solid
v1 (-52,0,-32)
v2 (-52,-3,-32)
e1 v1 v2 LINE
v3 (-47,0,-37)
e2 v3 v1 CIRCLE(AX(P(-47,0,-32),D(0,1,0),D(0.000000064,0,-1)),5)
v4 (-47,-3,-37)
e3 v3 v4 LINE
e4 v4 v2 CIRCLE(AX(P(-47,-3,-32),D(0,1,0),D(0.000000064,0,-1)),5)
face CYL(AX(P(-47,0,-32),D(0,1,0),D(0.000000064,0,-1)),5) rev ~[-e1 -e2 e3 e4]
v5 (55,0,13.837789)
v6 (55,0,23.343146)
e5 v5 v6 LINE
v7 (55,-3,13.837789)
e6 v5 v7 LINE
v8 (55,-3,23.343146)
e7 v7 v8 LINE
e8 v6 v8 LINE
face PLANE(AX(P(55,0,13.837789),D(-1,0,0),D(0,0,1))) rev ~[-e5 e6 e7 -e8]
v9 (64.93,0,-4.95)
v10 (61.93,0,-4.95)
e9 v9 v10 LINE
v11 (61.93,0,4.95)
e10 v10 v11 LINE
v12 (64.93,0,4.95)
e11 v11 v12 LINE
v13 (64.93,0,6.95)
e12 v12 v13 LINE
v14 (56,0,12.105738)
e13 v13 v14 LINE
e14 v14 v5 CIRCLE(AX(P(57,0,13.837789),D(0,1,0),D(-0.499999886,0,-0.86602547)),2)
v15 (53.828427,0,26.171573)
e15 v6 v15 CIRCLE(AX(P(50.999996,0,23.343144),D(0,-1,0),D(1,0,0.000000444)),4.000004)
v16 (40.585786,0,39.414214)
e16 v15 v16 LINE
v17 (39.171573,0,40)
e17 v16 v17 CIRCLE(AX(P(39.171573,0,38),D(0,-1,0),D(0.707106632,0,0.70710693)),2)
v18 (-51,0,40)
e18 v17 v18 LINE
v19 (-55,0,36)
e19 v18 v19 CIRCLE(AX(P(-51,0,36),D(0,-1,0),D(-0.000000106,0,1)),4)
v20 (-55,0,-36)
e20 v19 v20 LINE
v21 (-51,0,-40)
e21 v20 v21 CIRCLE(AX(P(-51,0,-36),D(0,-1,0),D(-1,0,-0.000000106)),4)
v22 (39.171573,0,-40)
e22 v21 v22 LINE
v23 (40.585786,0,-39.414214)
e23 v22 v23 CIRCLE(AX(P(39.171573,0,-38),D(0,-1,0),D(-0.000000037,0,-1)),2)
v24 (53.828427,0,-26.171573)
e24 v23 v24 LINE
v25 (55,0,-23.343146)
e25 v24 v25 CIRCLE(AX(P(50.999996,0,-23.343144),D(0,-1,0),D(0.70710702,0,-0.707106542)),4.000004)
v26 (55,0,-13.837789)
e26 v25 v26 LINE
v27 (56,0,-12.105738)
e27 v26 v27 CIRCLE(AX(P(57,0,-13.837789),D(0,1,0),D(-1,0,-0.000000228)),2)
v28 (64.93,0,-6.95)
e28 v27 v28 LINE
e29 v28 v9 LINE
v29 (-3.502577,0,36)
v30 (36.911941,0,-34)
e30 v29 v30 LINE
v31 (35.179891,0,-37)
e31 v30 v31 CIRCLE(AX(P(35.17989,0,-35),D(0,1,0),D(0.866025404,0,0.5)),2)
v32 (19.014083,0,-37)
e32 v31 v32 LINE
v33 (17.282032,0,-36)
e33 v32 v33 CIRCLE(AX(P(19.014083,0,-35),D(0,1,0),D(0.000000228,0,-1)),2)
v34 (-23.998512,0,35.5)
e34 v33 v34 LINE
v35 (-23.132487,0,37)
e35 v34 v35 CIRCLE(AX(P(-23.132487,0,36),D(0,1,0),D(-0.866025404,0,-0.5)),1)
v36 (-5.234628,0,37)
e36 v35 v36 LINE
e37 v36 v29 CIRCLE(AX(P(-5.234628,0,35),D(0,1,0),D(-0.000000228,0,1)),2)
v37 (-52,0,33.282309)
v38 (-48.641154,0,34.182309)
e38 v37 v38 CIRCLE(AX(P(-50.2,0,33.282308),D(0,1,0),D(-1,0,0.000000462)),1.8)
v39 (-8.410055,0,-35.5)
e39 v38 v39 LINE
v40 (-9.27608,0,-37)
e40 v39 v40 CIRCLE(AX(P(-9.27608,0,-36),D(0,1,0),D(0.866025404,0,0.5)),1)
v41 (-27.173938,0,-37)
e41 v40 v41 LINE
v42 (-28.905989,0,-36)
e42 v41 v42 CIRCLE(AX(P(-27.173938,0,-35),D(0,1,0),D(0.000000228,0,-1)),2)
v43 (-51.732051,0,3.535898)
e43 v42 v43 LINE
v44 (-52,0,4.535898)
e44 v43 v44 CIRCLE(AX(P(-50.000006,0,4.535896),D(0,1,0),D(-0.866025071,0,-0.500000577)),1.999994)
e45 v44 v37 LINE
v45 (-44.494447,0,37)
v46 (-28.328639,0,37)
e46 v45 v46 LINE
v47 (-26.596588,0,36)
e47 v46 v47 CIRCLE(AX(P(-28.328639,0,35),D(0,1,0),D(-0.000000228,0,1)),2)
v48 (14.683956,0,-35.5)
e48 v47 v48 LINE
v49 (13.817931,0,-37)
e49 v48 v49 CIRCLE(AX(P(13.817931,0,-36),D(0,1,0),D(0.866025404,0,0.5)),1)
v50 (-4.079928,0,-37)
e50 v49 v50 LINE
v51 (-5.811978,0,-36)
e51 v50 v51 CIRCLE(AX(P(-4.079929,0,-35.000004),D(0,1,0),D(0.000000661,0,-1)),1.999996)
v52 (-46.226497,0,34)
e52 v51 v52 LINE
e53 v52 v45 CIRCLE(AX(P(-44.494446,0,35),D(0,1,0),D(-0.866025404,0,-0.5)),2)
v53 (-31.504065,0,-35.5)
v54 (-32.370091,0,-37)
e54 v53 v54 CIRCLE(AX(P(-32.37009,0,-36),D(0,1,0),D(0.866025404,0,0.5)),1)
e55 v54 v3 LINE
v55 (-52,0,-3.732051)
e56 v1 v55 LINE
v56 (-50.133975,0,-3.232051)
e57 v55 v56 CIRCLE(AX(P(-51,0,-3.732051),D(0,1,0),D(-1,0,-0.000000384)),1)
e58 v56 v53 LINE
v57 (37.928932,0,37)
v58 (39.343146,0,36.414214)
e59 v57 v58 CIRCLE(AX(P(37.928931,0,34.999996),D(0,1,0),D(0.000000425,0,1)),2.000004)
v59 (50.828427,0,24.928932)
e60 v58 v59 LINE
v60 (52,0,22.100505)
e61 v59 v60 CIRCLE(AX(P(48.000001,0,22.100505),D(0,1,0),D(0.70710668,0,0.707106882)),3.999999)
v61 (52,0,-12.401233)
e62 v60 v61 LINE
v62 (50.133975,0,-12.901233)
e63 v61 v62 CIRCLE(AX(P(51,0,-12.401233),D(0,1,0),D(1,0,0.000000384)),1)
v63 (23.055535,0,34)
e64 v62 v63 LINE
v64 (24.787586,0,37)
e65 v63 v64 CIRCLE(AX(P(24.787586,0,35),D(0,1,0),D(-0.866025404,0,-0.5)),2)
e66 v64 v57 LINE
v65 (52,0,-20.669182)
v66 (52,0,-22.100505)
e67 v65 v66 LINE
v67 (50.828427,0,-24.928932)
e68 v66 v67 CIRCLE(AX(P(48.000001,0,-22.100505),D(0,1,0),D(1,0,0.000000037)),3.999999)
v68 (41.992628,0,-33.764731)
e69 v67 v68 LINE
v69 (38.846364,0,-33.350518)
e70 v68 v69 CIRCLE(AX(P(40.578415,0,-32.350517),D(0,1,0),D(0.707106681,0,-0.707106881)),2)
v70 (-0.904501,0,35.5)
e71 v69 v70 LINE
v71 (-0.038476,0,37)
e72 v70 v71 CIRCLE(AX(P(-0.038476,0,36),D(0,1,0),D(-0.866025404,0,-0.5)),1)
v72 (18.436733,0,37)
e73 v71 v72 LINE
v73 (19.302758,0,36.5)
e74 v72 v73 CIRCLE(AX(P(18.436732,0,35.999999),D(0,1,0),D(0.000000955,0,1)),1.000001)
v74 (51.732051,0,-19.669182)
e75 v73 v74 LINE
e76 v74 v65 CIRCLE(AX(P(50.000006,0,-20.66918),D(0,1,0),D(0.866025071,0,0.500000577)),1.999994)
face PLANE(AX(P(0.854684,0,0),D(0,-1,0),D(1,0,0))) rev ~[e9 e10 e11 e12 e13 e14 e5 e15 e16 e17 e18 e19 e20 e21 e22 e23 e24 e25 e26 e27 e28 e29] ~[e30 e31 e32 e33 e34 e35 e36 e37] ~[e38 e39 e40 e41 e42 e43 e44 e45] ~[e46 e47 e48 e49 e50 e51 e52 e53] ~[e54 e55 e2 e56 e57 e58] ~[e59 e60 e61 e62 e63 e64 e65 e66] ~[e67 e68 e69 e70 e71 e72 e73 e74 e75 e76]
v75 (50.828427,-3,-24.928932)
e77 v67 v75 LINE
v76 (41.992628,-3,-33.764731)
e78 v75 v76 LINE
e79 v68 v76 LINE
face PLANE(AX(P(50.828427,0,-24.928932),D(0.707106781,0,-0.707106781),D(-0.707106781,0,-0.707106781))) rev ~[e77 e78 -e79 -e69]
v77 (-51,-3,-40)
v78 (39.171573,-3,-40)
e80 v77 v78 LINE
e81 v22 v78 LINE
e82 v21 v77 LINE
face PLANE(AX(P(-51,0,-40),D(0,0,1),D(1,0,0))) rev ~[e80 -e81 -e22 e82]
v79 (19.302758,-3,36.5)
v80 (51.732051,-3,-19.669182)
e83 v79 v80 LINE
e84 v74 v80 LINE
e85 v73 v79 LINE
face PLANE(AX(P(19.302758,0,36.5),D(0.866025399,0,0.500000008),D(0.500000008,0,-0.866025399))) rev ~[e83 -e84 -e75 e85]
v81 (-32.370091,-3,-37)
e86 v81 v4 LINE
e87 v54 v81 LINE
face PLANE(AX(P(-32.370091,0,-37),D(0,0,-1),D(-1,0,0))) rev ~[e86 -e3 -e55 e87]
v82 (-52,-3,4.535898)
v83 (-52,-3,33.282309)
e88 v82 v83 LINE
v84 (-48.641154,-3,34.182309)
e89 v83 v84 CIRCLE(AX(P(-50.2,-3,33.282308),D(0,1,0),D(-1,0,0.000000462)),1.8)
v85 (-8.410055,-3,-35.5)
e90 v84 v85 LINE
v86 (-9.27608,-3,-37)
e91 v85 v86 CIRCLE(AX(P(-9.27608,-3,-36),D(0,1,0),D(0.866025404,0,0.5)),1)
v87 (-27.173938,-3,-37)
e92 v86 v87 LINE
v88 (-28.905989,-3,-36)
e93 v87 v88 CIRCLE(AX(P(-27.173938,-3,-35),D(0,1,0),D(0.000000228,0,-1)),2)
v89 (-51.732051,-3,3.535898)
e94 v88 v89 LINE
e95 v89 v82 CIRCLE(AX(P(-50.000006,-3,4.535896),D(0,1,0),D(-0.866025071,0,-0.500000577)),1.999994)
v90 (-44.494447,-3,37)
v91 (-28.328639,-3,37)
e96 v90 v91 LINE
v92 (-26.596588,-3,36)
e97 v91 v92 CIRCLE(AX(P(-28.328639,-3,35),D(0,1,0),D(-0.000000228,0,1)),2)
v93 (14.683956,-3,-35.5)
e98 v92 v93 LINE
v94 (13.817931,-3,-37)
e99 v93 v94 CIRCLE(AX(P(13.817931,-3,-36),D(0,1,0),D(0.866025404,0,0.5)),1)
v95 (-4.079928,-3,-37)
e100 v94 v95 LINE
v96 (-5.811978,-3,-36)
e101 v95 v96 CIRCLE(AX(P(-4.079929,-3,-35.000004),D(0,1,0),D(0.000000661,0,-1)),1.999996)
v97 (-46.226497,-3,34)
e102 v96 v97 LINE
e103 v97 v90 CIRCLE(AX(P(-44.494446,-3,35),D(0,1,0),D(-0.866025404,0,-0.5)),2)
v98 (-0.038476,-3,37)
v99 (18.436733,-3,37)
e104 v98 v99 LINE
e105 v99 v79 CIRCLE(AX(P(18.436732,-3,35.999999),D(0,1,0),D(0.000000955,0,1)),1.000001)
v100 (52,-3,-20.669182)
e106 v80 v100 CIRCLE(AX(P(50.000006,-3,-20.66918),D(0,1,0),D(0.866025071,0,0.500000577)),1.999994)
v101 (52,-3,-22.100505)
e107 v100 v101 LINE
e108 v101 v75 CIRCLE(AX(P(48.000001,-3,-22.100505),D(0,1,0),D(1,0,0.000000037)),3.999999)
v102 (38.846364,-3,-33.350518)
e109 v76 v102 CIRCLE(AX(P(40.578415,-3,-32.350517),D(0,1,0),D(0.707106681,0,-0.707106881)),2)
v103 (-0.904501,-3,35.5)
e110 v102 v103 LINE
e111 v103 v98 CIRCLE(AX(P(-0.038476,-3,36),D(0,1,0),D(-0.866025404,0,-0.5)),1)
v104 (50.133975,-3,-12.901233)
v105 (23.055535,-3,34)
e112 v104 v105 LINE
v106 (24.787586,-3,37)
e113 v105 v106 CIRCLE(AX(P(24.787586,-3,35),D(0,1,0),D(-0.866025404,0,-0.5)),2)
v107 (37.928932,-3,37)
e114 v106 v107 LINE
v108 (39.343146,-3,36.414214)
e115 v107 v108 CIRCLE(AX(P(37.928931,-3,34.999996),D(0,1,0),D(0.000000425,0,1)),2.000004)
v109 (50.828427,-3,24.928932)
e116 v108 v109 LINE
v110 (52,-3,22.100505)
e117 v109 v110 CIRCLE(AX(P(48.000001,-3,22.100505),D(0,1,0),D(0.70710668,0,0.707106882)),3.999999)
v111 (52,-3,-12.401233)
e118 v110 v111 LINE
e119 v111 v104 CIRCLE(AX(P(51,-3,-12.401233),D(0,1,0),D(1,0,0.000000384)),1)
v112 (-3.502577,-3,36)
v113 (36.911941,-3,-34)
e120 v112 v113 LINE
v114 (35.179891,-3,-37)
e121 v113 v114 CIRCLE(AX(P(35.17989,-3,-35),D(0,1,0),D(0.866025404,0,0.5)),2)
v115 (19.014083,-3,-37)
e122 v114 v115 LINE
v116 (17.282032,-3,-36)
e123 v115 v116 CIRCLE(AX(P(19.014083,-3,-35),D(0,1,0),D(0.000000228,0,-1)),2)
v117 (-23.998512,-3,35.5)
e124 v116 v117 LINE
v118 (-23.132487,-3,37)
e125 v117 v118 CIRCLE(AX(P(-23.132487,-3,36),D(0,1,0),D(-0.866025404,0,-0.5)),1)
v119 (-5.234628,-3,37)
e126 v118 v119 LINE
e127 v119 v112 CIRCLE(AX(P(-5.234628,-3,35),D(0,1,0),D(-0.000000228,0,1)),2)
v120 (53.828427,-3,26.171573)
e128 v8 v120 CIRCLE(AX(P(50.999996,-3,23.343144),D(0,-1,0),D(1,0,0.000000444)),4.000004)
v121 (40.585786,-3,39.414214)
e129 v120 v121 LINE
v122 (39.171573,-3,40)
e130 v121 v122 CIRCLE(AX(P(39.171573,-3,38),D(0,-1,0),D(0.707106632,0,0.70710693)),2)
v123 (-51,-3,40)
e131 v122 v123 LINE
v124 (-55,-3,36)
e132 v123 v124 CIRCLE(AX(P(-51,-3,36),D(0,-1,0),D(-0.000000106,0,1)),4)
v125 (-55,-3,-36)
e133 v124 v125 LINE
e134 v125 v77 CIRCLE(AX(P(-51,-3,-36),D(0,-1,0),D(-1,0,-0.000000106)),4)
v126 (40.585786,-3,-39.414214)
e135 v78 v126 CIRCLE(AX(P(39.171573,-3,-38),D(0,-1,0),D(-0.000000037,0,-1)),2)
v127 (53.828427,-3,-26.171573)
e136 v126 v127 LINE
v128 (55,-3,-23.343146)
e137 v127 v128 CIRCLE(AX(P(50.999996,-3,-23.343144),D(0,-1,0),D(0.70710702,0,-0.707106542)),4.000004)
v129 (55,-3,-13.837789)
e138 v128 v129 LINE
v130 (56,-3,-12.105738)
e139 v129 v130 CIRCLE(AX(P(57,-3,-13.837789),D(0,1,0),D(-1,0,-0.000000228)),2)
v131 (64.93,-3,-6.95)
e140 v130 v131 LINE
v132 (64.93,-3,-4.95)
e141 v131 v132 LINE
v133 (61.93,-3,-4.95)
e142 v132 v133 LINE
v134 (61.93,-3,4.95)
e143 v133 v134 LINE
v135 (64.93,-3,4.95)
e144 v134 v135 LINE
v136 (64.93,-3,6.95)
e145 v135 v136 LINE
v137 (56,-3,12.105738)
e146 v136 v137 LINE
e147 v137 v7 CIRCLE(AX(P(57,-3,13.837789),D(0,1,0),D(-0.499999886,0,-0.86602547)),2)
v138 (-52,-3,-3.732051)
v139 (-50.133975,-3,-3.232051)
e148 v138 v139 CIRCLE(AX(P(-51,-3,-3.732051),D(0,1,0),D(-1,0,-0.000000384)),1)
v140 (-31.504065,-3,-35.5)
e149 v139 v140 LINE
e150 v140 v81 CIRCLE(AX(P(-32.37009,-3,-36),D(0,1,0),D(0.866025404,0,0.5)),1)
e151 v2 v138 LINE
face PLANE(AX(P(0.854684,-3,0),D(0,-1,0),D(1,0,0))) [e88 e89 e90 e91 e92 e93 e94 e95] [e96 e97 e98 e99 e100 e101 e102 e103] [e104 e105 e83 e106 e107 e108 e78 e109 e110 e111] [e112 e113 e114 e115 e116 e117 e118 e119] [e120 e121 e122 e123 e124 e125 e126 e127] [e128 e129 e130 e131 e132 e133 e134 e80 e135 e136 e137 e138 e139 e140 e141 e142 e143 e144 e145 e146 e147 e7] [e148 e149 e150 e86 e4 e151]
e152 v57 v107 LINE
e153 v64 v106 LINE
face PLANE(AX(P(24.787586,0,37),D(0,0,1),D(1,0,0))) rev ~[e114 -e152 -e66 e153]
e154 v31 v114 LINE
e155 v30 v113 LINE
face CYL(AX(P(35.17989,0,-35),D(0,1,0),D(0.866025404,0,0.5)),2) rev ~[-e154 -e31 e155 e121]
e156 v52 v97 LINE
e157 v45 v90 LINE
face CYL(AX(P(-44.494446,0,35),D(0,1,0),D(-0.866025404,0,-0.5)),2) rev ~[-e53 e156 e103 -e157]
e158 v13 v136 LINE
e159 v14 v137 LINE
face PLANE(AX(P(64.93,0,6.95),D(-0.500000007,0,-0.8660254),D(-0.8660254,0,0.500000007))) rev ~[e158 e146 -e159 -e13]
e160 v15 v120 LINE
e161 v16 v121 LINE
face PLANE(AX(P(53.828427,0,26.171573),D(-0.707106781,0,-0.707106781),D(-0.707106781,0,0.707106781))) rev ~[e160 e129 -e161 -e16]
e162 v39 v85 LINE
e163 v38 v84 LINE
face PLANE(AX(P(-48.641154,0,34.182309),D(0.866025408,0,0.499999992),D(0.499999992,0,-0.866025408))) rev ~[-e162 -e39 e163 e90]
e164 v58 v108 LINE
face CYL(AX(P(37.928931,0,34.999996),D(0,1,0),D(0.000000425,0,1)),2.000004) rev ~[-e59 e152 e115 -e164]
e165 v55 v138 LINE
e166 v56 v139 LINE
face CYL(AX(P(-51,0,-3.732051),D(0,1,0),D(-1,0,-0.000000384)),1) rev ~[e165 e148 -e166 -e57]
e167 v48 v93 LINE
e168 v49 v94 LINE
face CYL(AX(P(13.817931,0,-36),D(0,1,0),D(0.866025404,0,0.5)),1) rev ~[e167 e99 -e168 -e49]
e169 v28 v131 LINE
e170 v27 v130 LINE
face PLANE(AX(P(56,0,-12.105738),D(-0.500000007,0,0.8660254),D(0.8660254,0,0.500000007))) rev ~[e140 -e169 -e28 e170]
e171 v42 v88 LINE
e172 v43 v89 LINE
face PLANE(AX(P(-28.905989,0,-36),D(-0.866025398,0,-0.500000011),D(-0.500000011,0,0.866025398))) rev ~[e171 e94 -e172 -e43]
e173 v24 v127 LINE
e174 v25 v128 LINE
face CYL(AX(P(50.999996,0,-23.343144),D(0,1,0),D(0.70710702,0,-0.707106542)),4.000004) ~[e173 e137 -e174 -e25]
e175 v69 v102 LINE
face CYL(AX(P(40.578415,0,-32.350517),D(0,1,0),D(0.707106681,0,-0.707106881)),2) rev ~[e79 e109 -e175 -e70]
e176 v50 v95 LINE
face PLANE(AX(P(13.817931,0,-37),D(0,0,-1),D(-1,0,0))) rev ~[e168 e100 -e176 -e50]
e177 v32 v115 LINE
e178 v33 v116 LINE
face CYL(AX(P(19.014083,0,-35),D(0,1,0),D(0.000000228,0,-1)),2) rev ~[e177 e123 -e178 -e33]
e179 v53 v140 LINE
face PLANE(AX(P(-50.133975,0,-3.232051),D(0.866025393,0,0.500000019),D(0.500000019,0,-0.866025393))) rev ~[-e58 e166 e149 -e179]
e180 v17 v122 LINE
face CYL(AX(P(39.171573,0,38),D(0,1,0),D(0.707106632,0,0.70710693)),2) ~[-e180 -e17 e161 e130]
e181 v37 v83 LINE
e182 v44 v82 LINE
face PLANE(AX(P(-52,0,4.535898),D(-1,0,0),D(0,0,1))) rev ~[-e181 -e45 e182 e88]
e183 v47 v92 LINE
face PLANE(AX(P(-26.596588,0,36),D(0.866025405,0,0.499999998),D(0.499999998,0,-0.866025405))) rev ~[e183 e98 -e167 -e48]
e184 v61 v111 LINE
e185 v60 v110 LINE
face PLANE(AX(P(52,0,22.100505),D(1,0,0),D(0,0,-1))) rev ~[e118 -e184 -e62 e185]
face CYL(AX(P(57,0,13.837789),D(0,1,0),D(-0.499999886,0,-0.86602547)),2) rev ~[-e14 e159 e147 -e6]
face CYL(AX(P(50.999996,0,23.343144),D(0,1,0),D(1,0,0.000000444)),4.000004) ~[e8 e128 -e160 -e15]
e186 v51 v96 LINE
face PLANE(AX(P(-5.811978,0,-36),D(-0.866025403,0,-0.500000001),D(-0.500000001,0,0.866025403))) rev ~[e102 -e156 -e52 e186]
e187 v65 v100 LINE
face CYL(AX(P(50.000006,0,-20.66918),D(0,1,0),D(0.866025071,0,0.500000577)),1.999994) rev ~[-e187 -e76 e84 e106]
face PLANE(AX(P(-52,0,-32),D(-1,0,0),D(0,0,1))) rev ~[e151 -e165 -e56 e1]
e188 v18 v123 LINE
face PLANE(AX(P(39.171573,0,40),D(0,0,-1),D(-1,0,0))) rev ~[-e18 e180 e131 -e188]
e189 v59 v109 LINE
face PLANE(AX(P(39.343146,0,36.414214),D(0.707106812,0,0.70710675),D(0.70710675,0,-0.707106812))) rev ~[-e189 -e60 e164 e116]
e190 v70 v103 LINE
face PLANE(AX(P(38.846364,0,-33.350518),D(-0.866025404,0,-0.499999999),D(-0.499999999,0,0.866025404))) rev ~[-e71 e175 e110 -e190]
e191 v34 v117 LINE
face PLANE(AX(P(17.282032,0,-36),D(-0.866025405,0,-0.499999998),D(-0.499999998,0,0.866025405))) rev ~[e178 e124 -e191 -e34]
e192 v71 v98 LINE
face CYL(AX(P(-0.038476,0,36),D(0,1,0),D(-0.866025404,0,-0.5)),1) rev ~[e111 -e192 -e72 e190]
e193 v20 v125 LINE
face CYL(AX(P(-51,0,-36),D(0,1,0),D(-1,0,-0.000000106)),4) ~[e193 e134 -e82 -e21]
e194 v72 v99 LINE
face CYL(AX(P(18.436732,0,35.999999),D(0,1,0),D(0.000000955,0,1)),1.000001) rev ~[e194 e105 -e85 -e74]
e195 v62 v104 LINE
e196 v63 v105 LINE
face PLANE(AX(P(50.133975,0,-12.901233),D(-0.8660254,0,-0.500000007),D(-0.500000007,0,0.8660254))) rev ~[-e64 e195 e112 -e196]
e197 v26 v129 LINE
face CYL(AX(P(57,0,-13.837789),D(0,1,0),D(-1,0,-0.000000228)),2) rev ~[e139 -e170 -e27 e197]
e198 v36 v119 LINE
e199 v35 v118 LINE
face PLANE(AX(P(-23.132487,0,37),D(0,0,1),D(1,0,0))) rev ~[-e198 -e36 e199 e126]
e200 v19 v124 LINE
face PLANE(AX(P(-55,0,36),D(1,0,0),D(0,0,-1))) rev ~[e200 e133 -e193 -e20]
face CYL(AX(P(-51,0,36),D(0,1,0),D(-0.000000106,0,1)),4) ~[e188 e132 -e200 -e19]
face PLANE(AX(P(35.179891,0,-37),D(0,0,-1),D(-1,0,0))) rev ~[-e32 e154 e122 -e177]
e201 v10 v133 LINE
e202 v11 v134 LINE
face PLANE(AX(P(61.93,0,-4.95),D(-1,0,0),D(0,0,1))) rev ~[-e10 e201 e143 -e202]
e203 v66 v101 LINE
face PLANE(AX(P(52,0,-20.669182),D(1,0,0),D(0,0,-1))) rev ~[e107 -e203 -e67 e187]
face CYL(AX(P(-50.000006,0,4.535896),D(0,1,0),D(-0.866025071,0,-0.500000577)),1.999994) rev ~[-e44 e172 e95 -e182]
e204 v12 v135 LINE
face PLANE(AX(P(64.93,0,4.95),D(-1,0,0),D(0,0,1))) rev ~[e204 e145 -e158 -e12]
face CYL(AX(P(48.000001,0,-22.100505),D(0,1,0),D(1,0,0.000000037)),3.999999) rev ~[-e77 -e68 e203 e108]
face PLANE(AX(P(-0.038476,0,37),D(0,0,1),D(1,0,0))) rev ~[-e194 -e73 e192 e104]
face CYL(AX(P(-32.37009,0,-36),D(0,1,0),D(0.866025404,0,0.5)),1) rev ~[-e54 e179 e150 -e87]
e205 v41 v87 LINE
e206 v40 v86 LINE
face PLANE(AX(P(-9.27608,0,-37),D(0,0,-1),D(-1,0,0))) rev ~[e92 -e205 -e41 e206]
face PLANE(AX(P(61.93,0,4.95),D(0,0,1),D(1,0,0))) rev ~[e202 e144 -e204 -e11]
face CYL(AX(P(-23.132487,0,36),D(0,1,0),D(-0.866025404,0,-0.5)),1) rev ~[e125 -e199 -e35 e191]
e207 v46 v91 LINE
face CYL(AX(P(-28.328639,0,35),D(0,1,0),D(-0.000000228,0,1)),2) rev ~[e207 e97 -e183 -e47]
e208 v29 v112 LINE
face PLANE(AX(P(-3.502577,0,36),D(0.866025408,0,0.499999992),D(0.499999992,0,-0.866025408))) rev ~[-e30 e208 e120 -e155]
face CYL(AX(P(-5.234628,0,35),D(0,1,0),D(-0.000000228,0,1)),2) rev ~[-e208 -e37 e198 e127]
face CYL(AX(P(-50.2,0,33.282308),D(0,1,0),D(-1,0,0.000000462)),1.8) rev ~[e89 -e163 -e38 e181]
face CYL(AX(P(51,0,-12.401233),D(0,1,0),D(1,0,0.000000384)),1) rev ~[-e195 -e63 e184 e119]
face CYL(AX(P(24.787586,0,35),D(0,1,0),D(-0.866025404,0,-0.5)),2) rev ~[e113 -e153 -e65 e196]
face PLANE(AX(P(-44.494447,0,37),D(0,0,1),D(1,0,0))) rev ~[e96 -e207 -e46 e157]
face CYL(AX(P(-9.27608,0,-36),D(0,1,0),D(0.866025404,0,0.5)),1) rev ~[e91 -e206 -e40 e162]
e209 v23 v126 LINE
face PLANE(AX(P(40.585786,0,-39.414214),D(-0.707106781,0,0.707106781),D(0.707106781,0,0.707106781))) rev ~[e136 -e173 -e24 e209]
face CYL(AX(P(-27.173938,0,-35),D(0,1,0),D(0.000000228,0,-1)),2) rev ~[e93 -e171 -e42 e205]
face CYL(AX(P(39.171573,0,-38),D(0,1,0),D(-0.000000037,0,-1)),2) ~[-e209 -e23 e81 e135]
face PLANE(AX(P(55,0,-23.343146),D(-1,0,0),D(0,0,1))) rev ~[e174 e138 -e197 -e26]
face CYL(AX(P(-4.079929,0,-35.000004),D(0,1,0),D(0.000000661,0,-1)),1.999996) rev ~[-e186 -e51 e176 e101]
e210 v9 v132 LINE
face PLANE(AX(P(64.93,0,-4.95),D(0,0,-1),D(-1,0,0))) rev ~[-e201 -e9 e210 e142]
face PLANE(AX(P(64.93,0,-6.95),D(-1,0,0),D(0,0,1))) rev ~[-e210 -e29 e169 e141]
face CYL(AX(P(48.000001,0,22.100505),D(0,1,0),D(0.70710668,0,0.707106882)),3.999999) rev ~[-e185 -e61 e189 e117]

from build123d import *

# Parameters (mm, degrees)
F1_DEPTH = 3


with BuildPart() as f1:
    # F0 (on Front) → F1 (new body)
    with BuildSketch(Plane.XZ):
        with BuildLine():
            ThreePointArc((-55, -36), (-53.828427, -38.828427), (-51, -40))
            Line((-51, -40), (39.171573, -40))
            ThreePointArc((39.171573, -40), (39.93694, -39.847759), (40.585786, -39.414214))
            Line((40.585786, -39.414214), (53.828427, -26.171573))
            ThreePointArc((53.828427, -26.171573), (54.695518, -24.873879), (55, -23.343146))
            Line((55, -23.343146), (55, -13.837789))
            ThreePointArc((55, -13.837789), (55.267949, -12.837789), (56, -12.105738))
            Line((56, -12.105738), (64.93, -6.95))
            Line((64.93, -6.95), (64.93, -4.95))
            Line((64.93, -4.95), (61.93, -4.95))
            Line((61.93, -4.95), (61.93, 4.95))
            Line((61.93, 4.95), (64.93, 4.95))
            Line((64.93, 4.95), (64.93, 6.95))
            Line((64.93, 6.95), (56, 12.105738))
            ThreePointArc((56, 12.105738), (55.267949, 12.837789), (55, 13.837789))
            Line((55, 13.837789), (55, 23.343146))
            ThreePointArc((55, 23.343146), (54.695518, 24.873879), (53.828427, 26.171573))
            Line((53.828427, 26.171573), (40.585786, 39.414214))
            ThreePointArc((40.585786, 39.414214), (39.93694, 39.847759), (39.171573, 40))
            Line((39.171573, 40), (35.757359, 40))
            Line((35.757359, 40), (-51, 40))
            ThreePointArc((-51, 40), (-53.828427, 38.828427), (-55, 36))
            Line((-55, 36), (-55, -36))
        make_face()
        with BuildLine():
            ThreePointArc((-47, -37), (-50.535534, -35.535534), (-52, -32))
            Line((-52, -32), (-52, -3.732051))
            ThreePointArc((-52, -3.732051), (-51.258819, -2.766125), (-50.133975, -3.232051))
            Line((-50.133975, -3.232051), (-31.504065, -35.5))
            ThreePointArc((-31.504065, -35.5), (-31.504065, -36.5), (-32.370091, -37))
            Line((-32.370091, -37), (-47, -37))
        make_face(mode=Mode.SUBTRACT)
        with BuildLine():
            Line((-28.905989, -36), (-51.732051, 3.535898))
            ThreePointArc((-51.732051, 3.535898), (-51.931852, 4.01826), (-52, 4.535898))
            Line((-52, 4.535898), (-52, 33.282309))
            ThreePointArc((-52, 33.282309), (-50.665874, 35.020975), (-48.641154, 34.182309))
            Line((-48.641154, 34.182309), (-8.410055, -35.5))
            ThreePointArc((-8.410055, -35.5), (-8.410055, -36.5), (-9.27608, -37))
            Line((-9.27608, -37), (-27.173938, -37))
            ThreePointArc((-27.173938, -37), (-28.173938, -36.732051), (-28.905989, -36))
        make_face(mode=Mode.SUBTRACT)
        with BuildLine():
            ThreePointArc((-46.226497, 34), (-46.226497, 36), (-44.494447, 37))
            Line((-44.494447, 37), (-28.328639, 37))
            ThreePointArc((-28.328639, 37), (-27.328639, 36.732051), (-26.596588, 36))
            Line((-26.596588, 36), (14.683956, -35.5))
            ThreePointArc((14.683956, -35.5), (14.683956, -36.5), (13.817931, -37))
            Line((13.817931, -37), (-4.079928, -37))
            ThreePointArc((-4.079928, -37), (-5.079928, -36.732051), (-5.811978, -36))
            Line((-5.811978, -36), (-46.226497, 34))
        make_face(mode=Mode.SUBTRACT)
        with BuildLine():
            Line((17.282032, -36), (-23.998512, 35.5))
            ThreePointArc((-23.998512, 35.5), (-23.998512, 36.5), (-23.132487, 37))
            Line((-23.132487, 37), (-5.234628, 37))
            ThreePointArc((-5.234628, 37), (-4.234628, 36.732051), (-3.502577, 36))
            Line((-3.502577, 36), (36.911941, -34))
            ThreePointArc((36.911941, -34), (36.911941, -36), (35.179891, -37))
            Line((35.179891, -37), (19.014083, -37))
            ThreePointArc((19.014083, -37), (18.014083, -36.732051), (17.282032, -36))
        make_face(mode=Mode.SUBTRACT)
        with BuildLine():
            Line((52, -20.669182), (52, -22.100505))
            ThreePointArc((52, -22.100505), (51.695518, -23.631239), (50.828427, -24.928932))
            Line((50.828427, -24.928932), (41.992628, -33.764731))
            ThreePointArc((41.992628, -33.764731), (40.317362, -34.333407), (38.846364, -33.350518))
            Line((38.846364, -33.350518), (-0.904501, 35.5))
            ThreePointArc((-0.904501, 35.5), (-0.904501, 36.5), (-0.038476, 37))
            Line((-0.038476, 37), (18.436733, 37))
            ThreePointArc((18.436733, 37), (18.936733, 36.866025), (19.302758, 36.5))
            Line((19.302758, 36.5), (51.732051, -19.669182))
            ThreePointArc((51.732051, -19.669182), (51.931852, -20.151544), (52, -20.669182))
        make_face(mode=Mode.SUBTRACT)
        with BuildLine():
            Line((50.133975, -12.901233), (23.055535, 34))
            ThreePointArc((23.055535, 34), (23.055535, 36), (24.787586, 37))
            Line((24.787586, 37), (37.928932, 37))
            ThreePointArc((37.928932, 37), (38.694299, 36.847759), (39.343146, 36.414214))
            Line((39.343146, 36.414214), (50.828427, 24.928932))
            ThreePointArc((50.828427, 24.928932), (51.695518, 23.631239), (52, 22.100505))
            Line((52, 22.100505), (52, -12.401233))
            ThreePointArc((52, -12.401233), (51.258819, -13.367159), (50.133975, -12.901233))
        make_face(mode=Mode.SUBTRACT)
    extrude(amount=F1_DEPTH)


solid = f1.part
